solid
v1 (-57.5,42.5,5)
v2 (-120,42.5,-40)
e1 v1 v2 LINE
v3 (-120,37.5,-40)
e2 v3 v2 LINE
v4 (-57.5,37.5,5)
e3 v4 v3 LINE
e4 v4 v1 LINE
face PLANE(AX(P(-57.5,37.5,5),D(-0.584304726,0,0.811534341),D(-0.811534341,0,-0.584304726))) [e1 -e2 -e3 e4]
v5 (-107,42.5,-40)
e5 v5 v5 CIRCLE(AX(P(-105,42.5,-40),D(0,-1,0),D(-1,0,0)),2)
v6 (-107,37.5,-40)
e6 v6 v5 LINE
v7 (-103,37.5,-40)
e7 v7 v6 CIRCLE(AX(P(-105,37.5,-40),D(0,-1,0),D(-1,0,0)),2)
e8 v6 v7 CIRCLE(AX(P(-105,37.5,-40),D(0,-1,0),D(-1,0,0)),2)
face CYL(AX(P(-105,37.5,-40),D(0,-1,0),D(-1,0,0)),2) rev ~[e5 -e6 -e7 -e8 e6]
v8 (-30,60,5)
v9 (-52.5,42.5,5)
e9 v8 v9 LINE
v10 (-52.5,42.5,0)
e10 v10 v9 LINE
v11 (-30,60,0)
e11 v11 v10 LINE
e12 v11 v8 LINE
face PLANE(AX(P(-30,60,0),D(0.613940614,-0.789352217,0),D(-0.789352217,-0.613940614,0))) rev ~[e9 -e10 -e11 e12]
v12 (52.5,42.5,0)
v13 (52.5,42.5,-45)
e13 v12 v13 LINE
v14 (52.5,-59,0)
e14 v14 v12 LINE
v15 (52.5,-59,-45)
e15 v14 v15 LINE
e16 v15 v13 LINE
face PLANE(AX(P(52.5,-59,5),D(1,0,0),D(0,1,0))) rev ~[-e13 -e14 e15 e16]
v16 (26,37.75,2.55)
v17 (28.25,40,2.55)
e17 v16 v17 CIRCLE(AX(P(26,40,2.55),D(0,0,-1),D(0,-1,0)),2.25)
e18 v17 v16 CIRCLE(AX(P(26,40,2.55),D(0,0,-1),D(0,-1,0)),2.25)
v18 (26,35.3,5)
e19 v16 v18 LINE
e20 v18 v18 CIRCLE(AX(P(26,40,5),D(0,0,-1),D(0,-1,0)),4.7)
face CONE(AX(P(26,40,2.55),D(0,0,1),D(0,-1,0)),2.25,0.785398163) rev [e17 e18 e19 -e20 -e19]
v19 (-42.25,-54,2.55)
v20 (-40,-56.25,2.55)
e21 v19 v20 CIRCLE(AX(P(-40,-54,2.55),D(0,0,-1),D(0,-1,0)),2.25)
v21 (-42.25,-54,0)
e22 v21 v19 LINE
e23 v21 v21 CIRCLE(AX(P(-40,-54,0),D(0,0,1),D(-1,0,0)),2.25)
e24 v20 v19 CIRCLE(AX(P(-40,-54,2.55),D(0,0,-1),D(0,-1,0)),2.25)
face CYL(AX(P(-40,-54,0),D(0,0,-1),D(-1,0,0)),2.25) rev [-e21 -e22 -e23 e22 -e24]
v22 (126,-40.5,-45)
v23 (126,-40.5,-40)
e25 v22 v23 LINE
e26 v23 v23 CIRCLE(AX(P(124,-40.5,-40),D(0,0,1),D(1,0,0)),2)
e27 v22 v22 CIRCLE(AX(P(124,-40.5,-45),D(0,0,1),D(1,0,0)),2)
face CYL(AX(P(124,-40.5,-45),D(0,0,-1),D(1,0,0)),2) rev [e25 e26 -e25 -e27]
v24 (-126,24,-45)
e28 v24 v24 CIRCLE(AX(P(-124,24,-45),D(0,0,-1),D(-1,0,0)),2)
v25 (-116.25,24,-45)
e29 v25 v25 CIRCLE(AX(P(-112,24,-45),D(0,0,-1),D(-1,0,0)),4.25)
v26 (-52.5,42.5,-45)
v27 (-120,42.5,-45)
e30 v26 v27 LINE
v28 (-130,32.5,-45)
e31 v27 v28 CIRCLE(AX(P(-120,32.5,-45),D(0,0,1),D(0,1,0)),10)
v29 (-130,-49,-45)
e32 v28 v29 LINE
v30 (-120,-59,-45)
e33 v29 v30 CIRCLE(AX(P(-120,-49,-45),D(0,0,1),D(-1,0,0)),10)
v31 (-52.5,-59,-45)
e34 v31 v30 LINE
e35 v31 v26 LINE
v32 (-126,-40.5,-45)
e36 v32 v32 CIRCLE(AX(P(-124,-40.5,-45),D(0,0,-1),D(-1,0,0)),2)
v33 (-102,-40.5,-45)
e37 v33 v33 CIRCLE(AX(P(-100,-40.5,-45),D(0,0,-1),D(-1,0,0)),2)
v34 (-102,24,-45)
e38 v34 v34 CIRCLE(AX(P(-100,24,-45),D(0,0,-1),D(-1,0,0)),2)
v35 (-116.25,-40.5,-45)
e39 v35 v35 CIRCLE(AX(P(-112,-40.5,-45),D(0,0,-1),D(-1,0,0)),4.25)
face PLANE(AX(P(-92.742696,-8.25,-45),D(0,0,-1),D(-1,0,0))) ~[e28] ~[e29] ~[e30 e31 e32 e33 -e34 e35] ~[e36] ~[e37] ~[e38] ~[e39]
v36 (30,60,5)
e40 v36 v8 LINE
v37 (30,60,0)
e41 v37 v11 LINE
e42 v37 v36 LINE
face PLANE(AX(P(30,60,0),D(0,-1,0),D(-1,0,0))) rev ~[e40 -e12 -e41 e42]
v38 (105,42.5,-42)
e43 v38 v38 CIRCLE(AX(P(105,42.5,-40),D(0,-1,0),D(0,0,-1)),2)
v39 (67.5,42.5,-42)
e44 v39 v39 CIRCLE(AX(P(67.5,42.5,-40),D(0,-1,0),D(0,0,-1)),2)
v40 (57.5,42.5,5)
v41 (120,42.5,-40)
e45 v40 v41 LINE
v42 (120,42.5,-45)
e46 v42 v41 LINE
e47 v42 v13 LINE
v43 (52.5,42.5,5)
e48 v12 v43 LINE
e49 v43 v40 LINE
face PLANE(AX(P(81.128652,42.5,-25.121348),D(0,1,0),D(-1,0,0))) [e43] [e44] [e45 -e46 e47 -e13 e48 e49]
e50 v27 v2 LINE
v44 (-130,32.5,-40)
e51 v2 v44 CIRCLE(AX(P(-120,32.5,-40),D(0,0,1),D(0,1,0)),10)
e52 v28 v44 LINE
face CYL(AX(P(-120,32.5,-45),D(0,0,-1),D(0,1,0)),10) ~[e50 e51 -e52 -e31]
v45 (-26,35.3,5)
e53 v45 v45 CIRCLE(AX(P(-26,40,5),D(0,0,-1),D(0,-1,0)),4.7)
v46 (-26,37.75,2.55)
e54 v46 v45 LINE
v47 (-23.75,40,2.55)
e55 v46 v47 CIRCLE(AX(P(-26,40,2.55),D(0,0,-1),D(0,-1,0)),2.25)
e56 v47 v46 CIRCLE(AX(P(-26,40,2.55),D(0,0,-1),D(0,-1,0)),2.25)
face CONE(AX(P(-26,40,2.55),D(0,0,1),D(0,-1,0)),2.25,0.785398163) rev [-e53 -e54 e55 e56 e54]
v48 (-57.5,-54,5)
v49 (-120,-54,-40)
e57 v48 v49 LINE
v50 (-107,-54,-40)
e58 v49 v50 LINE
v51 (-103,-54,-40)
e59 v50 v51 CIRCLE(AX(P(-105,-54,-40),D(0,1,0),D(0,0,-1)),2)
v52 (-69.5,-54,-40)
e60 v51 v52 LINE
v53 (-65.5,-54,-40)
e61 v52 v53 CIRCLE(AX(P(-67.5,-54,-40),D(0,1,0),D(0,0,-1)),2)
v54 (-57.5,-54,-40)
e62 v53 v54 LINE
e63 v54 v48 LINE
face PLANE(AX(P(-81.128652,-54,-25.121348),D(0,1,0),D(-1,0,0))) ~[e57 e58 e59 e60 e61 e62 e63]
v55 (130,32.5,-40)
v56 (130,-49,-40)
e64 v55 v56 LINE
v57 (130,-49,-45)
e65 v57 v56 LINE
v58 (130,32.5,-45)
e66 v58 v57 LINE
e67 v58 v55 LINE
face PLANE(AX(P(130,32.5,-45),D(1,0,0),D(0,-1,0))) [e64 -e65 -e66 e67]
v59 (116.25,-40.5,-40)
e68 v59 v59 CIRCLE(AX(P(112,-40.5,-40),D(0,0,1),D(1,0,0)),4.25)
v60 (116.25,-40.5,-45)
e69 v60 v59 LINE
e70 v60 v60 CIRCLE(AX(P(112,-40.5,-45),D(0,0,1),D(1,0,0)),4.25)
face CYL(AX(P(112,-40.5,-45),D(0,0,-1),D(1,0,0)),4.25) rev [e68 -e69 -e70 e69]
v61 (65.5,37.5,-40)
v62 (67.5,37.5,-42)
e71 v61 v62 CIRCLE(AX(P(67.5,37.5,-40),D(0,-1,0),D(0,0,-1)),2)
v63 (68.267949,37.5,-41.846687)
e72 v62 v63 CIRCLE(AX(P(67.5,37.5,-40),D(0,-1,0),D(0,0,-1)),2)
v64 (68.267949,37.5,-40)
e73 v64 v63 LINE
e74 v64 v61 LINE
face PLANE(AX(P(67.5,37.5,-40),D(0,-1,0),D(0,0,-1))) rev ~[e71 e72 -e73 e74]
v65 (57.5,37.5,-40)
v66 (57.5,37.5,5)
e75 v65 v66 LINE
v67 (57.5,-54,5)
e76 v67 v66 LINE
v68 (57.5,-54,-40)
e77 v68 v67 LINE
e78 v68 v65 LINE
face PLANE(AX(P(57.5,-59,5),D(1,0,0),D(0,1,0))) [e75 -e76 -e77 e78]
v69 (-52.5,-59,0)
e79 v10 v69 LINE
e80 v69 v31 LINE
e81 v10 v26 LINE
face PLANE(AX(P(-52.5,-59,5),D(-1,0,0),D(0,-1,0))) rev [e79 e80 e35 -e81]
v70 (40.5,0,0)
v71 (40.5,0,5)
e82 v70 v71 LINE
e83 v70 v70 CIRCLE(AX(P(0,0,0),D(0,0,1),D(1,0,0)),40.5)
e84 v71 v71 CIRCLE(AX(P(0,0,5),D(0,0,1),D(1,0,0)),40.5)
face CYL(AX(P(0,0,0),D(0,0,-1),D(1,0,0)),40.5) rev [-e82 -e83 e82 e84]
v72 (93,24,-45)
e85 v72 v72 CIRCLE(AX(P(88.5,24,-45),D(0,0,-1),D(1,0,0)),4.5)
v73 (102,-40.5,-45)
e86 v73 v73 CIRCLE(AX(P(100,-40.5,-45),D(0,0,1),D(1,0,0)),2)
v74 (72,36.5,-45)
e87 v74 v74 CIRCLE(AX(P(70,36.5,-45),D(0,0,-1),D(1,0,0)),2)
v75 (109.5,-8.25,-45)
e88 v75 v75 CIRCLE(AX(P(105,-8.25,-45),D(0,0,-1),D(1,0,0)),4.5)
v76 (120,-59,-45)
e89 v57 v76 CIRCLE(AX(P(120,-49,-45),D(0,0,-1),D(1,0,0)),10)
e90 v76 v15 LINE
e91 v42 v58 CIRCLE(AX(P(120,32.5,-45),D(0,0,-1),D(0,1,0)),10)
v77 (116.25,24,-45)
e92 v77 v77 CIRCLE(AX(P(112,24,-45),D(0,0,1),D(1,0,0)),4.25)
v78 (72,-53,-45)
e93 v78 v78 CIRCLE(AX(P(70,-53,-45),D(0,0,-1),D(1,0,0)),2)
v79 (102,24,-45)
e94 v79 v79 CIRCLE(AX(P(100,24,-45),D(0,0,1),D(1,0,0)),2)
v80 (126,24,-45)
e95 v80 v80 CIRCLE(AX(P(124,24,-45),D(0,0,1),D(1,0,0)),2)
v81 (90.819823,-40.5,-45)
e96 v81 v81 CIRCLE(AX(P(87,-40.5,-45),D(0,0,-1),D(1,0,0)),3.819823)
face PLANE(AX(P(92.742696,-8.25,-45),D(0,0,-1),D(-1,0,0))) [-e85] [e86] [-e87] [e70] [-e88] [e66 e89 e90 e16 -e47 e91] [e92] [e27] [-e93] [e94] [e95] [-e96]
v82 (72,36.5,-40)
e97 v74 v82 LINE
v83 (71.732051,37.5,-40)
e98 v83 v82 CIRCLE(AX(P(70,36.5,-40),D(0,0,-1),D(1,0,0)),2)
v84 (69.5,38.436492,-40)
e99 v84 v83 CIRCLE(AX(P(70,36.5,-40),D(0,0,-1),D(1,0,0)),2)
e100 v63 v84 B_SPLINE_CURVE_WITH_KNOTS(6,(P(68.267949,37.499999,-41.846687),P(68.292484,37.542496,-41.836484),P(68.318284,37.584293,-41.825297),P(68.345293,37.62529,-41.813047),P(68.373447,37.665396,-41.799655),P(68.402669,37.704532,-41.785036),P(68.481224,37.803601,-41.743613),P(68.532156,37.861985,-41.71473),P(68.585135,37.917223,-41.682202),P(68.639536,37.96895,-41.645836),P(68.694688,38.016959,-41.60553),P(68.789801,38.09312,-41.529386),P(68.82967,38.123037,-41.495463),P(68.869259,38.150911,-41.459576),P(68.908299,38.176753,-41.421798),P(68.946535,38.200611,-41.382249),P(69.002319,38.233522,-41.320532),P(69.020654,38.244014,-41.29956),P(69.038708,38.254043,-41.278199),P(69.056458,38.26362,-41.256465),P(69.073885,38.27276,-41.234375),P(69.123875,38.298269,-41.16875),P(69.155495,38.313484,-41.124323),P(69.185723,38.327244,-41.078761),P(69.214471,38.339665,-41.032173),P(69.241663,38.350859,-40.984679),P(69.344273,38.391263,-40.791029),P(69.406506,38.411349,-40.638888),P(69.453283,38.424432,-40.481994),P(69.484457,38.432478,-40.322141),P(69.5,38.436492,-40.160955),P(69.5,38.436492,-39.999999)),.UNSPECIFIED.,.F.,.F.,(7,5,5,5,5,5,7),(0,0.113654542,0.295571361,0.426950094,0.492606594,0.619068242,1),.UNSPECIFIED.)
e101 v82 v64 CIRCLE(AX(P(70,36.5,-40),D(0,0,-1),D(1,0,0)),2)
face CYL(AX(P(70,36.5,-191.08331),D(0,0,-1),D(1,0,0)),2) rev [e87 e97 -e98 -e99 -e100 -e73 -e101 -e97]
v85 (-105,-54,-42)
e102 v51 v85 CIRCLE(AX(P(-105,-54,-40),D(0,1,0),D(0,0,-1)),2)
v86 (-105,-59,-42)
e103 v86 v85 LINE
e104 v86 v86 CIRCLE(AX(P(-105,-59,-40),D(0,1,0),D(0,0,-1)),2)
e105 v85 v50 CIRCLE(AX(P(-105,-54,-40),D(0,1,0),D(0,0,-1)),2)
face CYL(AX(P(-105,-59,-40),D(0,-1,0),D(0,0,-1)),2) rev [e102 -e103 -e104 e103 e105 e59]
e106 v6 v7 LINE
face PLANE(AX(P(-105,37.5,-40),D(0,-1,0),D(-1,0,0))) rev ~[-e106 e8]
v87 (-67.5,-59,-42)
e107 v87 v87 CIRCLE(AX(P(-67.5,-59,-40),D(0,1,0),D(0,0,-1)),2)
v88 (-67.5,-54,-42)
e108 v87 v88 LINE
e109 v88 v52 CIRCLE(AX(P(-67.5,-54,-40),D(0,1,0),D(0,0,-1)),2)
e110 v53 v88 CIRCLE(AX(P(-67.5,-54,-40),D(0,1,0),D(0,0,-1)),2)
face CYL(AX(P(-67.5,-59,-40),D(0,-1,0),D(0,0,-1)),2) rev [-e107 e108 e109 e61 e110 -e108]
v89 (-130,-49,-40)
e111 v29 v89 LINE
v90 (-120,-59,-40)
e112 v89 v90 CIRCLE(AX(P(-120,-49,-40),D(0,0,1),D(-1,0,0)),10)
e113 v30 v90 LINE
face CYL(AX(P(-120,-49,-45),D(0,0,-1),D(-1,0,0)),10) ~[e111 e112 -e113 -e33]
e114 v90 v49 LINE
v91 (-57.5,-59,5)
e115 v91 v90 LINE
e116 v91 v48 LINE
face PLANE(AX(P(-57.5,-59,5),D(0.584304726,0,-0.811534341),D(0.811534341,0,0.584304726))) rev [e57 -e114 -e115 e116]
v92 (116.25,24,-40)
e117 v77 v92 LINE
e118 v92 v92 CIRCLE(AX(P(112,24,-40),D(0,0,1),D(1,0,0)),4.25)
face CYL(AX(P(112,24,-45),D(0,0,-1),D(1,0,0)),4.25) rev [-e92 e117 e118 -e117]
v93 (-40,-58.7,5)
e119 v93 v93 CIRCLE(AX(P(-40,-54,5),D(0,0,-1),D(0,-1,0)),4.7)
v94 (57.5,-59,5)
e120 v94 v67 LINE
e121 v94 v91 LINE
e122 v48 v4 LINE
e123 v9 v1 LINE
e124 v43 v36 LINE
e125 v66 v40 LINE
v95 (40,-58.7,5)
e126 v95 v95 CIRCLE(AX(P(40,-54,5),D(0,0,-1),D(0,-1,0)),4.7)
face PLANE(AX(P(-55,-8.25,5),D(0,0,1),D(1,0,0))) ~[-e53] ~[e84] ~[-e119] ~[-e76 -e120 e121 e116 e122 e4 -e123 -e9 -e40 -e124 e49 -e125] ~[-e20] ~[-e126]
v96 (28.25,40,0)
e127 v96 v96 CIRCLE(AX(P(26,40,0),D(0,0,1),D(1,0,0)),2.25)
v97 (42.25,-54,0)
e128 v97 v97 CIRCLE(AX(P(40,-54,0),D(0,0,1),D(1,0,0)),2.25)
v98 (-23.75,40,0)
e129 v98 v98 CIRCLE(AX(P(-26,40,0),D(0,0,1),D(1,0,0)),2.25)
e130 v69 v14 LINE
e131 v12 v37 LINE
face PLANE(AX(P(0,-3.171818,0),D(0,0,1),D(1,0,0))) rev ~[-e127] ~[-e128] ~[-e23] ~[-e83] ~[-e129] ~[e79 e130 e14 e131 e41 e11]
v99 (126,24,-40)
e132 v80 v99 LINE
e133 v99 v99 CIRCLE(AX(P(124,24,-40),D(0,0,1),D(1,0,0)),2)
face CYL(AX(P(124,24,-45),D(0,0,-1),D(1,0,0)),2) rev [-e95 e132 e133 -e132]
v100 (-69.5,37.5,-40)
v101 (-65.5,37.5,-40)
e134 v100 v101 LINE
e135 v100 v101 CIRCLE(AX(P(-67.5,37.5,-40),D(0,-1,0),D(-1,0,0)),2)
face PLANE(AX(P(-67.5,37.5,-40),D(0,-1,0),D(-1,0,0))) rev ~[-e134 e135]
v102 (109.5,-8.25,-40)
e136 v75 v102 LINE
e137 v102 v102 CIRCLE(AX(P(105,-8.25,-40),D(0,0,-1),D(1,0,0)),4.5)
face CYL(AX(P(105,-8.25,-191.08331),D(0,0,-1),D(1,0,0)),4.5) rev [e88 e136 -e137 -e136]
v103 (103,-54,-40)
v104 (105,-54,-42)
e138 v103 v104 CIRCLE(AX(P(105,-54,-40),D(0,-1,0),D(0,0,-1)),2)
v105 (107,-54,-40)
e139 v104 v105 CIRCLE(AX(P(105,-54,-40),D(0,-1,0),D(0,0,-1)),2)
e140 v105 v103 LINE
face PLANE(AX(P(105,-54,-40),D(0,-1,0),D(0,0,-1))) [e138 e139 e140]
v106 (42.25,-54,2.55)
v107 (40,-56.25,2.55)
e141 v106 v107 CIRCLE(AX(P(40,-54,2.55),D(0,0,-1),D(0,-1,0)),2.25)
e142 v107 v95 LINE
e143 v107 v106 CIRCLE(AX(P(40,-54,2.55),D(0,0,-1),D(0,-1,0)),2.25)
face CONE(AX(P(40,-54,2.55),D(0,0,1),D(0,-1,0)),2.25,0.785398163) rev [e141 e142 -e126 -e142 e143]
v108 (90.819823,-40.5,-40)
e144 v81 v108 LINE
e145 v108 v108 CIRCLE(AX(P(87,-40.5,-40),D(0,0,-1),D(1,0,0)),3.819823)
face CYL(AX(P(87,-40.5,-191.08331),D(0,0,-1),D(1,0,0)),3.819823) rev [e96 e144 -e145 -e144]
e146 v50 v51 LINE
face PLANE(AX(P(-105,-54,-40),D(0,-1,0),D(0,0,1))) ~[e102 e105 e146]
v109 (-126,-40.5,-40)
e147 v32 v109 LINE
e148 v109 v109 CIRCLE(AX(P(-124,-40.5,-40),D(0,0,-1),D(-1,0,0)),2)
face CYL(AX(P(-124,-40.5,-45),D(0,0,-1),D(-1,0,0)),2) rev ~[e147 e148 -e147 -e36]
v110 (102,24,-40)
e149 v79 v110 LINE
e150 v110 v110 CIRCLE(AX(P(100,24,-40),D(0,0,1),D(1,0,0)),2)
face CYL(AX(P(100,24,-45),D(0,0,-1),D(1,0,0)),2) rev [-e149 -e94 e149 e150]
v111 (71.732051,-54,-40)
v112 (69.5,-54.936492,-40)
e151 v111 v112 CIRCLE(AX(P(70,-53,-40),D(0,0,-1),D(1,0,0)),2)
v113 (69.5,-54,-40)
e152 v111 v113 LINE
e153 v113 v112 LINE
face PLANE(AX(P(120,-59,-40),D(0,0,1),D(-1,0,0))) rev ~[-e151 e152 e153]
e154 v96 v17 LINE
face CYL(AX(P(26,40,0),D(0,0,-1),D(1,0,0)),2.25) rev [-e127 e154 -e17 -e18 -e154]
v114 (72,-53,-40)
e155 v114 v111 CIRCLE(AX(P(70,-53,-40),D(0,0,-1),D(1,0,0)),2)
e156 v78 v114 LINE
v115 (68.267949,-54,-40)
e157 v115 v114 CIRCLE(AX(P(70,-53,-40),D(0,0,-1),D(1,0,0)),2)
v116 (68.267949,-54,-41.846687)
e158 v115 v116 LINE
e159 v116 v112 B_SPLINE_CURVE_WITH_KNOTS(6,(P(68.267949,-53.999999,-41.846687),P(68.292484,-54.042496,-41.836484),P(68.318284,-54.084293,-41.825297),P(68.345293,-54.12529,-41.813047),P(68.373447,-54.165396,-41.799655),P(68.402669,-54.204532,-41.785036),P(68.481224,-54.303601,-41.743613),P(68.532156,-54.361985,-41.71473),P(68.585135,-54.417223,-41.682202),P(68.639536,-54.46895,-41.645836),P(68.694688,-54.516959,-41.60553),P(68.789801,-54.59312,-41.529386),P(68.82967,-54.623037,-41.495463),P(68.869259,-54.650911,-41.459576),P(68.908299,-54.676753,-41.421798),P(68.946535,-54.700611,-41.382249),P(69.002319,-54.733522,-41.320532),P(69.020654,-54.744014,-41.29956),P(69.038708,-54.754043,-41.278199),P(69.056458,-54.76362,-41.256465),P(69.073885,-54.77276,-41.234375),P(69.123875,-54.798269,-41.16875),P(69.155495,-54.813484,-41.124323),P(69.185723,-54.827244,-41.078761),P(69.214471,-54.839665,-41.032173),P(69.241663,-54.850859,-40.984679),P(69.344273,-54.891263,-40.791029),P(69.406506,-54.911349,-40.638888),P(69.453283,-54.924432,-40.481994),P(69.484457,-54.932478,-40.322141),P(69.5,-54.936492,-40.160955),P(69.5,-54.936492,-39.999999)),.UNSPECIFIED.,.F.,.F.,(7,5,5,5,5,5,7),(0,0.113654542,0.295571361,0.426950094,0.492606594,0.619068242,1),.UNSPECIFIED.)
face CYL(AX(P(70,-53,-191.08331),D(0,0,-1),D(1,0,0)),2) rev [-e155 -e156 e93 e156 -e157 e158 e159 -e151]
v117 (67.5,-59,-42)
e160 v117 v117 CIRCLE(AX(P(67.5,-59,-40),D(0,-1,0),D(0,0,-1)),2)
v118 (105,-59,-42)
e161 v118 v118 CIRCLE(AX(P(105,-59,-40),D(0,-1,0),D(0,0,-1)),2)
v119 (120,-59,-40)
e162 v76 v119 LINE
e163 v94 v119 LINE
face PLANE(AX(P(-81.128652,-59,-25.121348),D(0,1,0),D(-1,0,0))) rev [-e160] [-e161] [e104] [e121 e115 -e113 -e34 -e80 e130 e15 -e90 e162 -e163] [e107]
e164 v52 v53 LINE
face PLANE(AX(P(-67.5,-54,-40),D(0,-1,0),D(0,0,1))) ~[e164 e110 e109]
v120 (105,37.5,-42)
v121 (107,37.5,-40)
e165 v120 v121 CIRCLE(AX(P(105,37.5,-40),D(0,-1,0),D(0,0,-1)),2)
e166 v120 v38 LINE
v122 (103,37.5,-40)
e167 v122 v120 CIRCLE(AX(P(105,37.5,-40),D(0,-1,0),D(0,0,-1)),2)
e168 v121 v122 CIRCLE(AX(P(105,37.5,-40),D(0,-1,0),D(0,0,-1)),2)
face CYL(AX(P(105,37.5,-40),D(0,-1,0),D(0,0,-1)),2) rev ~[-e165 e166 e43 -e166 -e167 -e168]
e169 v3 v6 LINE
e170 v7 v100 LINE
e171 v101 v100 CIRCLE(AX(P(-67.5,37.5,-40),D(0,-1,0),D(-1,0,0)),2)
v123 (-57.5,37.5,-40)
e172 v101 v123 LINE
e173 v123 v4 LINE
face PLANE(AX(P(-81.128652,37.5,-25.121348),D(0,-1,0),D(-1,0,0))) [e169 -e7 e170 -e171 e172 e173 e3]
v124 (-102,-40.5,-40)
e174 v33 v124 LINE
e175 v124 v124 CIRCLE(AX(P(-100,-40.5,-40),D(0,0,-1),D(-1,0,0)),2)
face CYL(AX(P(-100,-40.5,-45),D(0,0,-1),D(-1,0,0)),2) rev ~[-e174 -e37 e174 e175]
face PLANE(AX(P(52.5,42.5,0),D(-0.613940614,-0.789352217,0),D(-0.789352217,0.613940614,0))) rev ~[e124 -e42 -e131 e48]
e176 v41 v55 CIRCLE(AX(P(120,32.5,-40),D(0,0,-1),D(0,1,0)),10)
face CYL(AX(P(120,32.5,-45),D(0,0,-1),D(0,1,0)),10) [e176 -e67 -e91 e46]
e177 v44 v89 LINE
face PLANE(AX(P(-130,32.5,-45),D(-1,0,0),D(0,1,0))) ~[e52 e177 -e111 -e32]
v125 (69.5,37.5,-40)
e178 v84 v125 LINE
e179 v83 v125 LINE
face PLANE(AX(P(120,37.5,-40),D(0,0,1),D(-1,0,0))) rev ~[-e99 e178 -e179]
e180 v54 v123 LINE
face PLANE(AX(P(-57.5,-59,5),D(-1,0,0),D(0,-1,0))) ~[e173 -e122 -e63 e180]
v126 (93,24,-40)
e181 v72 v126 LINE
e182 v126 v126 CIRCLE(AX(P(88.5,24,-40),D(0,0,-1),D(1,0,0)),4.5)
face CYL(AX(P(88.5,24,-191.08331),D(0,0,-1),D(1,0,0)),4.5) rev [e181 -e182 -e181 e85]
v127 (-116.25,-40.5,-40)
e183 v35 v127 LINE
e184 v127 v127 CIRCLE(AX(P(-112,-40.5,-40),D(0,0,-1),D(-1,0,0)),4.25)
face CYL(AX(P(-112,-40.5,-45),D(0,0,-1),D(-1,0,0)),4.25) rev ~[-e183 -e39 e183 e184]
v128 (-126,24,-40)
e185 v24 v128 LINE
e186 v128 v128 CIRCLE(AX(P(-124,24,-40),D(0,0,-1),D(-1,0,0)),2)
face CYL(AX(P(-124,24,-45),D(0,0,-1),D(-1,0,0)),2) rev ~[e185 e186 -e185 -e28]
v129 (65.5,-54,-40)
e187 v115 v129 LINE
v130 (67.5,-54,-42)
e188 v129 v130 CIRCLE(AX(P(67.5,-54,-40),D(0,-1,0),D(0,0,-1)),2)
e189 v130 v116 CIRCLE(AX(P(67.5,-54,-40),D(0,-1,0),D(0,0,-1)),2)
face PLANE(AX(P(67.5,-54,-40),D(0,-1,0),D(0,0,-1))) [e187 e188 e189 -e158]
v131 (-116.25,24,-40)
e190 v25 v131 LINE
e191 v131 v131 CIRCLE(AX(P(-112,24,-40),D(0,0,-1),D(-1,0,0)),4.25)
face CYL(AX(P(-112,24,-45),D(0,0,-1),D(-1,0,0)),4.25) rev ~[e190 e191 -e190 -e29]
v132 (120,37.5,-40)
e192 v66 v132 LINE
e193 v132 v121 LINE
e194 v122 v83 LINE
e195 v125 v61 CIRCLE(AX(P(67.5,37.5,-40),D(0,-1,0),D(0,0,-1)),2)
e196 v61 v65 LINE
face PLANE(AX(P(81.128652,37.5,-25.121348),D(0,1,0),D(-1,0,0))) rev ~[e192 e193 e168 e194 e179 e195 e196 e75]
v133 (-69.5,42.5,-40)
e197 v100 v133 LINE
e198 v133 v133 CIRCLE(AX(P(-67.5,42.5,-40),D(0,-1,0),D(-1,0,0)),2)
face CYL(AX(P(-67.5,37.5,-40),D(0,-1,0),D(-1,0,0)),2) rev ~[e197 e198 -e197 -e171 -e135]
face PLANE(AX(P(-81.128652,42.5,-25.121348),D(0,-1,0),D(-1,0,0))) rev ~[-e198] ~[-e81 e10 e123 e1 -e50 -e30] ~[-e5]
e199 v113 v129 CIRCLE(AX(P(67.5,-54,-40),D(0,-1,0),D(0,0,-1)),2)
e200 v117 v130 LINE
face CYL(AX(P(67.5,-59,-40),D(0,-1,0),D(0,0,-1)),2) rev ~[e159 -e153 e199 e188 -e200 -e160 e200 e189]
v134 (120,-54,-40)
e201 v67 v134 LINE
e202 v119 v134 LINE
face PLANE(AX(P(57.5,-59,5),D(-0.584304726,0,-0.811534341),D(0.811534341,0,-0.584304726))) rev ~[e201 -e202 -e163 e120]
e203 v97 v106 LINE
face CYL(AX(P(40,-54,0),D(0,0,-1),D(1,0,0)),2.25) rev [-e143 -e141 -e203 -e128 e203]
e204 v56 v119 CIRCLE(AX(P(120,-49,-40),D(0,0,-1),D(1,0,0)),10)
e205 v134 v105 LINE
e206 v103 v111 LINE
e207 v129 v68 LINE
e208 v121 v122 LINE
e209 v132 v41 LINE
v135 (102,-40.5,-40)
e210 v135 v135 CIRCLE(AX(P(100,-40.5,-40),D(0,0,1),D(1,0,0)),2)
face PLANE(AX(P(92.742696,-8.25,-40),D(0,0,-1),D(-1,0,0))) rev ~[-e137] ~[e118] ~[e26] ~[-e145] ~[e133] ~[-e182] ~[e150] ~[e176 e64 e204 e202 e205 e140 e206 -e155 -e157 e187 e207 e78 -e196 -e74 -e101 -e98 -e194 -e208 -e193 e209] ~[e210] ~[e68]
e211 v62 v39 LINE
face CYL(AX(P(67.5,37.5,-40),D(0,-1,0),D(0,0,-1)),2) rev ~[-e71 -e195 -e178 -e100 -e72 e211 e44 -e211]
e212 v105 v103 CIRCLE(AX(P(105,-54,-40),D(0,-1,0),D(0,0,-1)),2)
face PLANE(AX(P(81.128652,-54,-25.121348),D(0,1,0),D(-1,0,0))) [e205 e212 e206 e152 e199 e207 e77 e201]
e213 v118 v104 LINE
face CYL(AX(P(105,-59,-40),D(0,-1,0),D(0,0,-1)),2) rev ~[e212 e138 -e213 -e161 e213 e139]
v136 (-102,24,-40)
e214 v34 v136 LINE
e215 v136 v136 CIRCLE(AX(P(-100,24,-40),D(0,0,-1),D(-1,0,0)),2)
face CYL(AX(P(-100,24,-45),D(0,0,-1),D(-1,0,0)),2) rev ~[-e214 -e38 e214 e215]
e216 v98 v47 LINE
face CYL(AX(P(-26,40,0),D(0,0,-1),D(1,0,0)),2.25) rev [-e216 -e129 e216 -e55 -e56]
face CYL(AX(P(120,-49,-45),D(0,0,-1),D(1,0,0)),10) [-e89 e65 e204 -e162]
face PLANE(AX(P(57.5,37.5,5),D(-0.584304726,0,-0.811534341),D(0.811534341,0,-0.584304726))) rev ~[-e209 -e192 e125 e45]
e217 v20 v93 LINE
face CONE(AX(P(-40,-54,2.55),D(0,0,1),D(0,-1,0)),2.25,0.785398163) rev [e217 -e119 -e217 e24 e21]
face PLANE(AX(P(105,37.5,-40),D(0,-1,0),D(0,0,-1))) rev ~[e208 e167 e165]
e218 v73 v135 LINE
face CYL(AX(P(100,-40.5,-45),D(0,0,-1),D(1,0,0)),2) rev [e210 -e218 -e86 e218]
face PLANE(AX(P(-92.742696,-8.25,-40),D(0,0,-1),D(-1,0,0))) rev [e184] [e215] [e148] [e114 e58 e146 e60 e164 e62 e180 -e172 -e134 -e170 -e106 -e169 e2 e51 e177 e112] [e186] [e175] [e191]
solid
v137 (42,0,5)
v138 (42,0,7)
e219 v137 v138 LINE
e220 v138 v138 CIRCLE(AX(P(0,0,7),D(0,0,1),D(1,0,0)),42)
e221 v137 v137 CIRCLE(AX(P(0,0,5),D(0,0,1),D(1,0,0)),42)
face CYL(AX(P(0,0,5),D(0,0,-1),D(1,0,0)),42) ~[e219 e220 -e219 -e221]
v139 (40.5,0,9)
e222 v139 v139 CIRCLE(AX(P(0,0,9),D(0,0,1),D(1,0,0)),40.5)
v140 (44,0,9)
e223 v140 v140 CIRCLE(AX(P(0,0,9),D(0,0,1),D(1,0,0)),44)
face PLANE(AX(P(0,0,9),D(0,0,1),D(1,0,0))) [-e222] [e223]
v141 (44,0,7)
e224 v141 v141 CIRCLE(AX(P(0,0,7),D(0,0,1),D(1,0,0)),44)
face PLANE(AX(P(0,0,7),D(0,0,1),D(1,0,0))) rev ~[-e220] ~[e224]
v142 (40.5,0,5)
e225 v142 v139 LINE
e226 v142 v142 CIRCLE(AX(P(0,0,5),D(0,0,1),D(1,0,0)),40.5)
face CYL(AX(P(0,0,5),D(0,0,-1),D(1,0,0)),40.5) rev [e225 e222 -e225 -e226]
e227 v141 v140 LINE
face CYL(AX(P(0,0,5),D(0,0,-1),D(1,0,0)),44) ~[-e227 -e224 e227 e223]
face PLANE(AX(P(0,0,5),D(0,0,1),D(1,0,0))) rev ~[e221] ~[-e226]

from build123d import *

# Parameters (mm, degrees)
SKIZZE1_R                                      = 2.25
SKIZZE1_R_2                                    = 40.5
AUFSATZ_LINEAR_AUSTRAGEN1_DEPTH                = 5
SKETCH5_W                                      = 5
SKETCH5_H                                      = 101.5
BOSS_EXTRUDE1_DEPTH                            = 50
SKIZZE15_R                                     = 4.25
SKIZZE15_R_2                                   = 2
AUFSATZ_LINEAR_AUSTRAGEN2_DEPTH                = 5
CUT_EXTRUDE1_DEPTH                             = 151.083310198
CUT_EXTRUDE1_DEPTH_BACK                        = 151.083310198
SKETCH1_R                                      = 4.5
SKETCH1_R_2                                    = 3.819823324
SKETCH1_R_3                                    = 2
BOSS_EXTRUDE2_DEPTH                            = 5
SKETCH11_R                                     = 2
CUT_EXTRUDE2_DEPTH                             = 5
LPATTERN1_COPY_1_DEPTH                         = 5
LPATTERN1_COPY_2_SKETCH_R                      = 2
LPATTERN1_COPY_2_DEPTH                         = 5
LPATTERN1_COPY_3_DEPTH                         = 5
LPATTERN1_COPY_4_SKETCH_R                      = 2
LPATTERN1_COPY_4_DEPTH                         = 5
SKETCH9_R                                      = 44
SKETCH9_R_2                                    = 40.5
BOSS_EXTRUDE3_DEPTH                            = 4
SKETCH13_R                                     = 44
SKETCH13_R_2                                   = 42
CUT_EXTRUDE3_DEPTH                             = 2
CSK_FOR_M4_FLAT_HEAD_MACHINE_SCREW1_AT_2_COUNT = 2
CSK_FOR_M4_FLAT_HEAD_MACHINE_SCREW1_AT_2_PITCH = 52
CSK_FOR_M4_FLAT_HEAD_MACHINE_SCREW1_AT_3_COUNT = 2
CSK_FOR_M4_FLAT_HEAD_MACHINE_SCREW1_AT_3_PITCH = 114.856432123
CSK_FOR_M4_FLAT_HEAD_MACHINE_SCREW1_AT_4_COUNT = 2
CSK_FOR_M4_FLAT_HEAD_MACHINE_SCREW1_AT_4_PITCH = 95.036834964


with BuildPart() as part:
    # Skizze1 → Aufsatz-Linear austragen1 (new body)
    with BuildSketch(Plane.XY):
        Polygon((-52.5, -59), (52.5, -59), (52.5, 42.5), (30, 60), (-30, 60), (-52.5, 42.5), align=None)
        with Locations((26, 40)):
            Circle(SKIZZE1_R, mode=Mode.SUBTRACT)
        with Locations((-26, 40)):
            Circle(SKIZZE1_R, mode=Mode.SUBTRACT)
        Circle(SKIZZE1_R_2, mode=Mode.SUBTRACT)
        with Locations((40, -54)):
            Circle(SKIZZE1_R, mode=Mode.SUBTRACT)
        with Locations((-40, -54)):
            Circle(SKIZZE1_R, mode=Mode.SUBTRACT)
    extrude(amount=AUFSATZ_LINEAR_AUSTRAGEN1_DEPTH)

    # Sketch5 → Boss-Extrude1 (add)
    with BuildSketch(Plane.XY.offset(5)):
        with Locations((55, -8.25)):
            Rectangle(SKETCH5_W, SKETCH5_H)
    boss_extrude1 = extrude(amount=-BOSS_EXTRUDE1_DEPTH)

    # Skizze15 → Aufsatz-Linear austragen2 (add)
    with BuildSketch(Plane.XY.offset(-45)):
        with BuildLine():
            Line((57.5, 42.5), (120, 42.5))
            ThreePointArc((120, 42.5), (127.071067812, 39.571067812), (130, 32.5))
            Line((130, 32.5), (130, -49))
            ThreePointArc((130, -49), (127.071067812, -56.071067812), (120, -59))
            Line((120, -59), (57.5, -59))
            Line((57.5, -59), (57.5, 42.5))
        make_face()
        with Locations((112, 24)):
            Circle(SKIZZE15_R, mode=Mode.SUBTRACT)
        with Locations((100, 24)):
            Circle(SKIZZE15_R_2, mode=Mode.SUBTRACT)
        with Locations((124, 24)):
            Circle(SKIZZE15_R_2, mode=Mode.SUBTRACT)
        with Locations((112, -40.5)):
            Circle(SKIZZE15_R, mode=Mode.SUBTRACT)
        with Locations((100, -40.5)):
            Circle(SKIZZE15_R_2, mode=Mode.SUBTRACT)
        with Locations((124, -40.5)):
            Circle(SKIZZE15_R_2, mode=Mode.SUBTRACT)
    aufsatz_linear_austragen2 = extrude(amount=AUFSATZ_LINEAR_AUSTRAGEN2_DEPTH)

    # Spiegeln1: Boss-Extrude1, Aufsatz-Linear austragen2 across plane
    add(boss_extrude1.mirror(Plane(origin=(0, 0, 0), x_dir=(0, 0, 1), z_dir=(1, 0, 0))))
    add(aufsatz_linear_austragen2.mirror(Plane(origin=(0, 0, 0), x_dir=(0, 0, 1), z_dir=(1, 0, 0))))

    # Sketch1 → Cut-Extrude1 (cut, two sides: drawn at the far end of the back side and taken through both)
    with BuildSketch(Plane.XY.offset(-40).offset(-CUT_EXTRUDE1_DEPTH_BACK)):
        with Locations((105, -8.25)):
            Circle(SKETCH1_R)
        with Locations((87, -40.5)):
            Circle(SKETCH1_R_2)
        with Locations((88.5, 24)):
            Circle(SKETCH1_R)
        with Locations((70, -53)):
            Circle(SKETCH1_R_3)
        with Locations((70, 36.5)):
            Circle(SKETCH1_R_3)
    extrude(amount=CUT_EXTRUDE1_DEPTH + CUT_EXTRUDE1_DEPTH_BACK, mode=Mode.SUBTRACT)

    # Sketch6 → Boss-Extrude2 (add)
    with BuildSketch(Plane.XZ.offset(59)):
        Polygon((57.5, 5), (120, -40), (57.5, -40), align=None)
    boss_extrude2 = extrude(amount=-BOSS_EXTRUDE2_DEPTH)

    # Sketch11 → Cut-Extrude2 (cut)
    with BuildSketch(Plane.XZ.offset(59)):
        with Locations((105, -40)):
            Circle(SKETCH11_R)
        with Locations((67.5, -40)):
            Circle(SKETCH11_R)
    cut_extrude2 = extrude(amount=-CUT_EXTRUDE2_DEPTH, mode=Mode.SUBTRACT)

    # Mirror1: Boss-Extrude2, Cut-Extrude2 across plane
    add(boss_extrude2.mirror(Plane(origin=(0, 0, 0), x_dir=(0, 0, 1), z_dir=(1, 0, 0))))
    add(cut_extrude2.mirror(Plane(origin=(0, 0, 0), x_dir=(0, 0, 1), z_dir=(1, 0, 0))), mode=Mode.SUBTRACT)

    # LPattern1 copy 1 sketch → LPattern1 copy 1 (add)
    with BuildSketch(Plane(origin=(0, 37.5, 0), x_dir=(-1, 0, 0), z_dir=(0, -1, 0))):
        Polygon((57.5, -5), (120, 40), (57.5, 40), align=None)
    extrude(amount=-LPATTERN1_COPY_1_DEPTH)

    # LPattern1 copy 2 sketch → LPattern1 copy 2 (cut)
    with BuildSketch(Plane(origin=(0, 37.5, 0), x_dir=(-1, 0, 0), z_dir=(0, -1, 0))):
        with Locations((105, 40)):
            Circle(LPATTERN1_COPY_2_SKETCH_R)
        with Locations((67.5, 40)):
            Circle(LPATTERN1_COPY_2_SKETCH_R)
    extrude(amount=-LPATTERN1_COPY_2_DEPTH, mode=Mode.SUBTRACT)

    # LPattern1 copy 3 sketch → LPattern1 copy 3 (add)
    with BuildSketch(Plane.XZ.offset(-37.5)):
        Polygon((57.5, 5), (120, -40), (57.5, -40), align=None)
    extrude(amount=-LPATTERN1_COPY_3_DEPTH)

    # LPattern1 copy 4 sketch → LPattern1 copy 4 (cut)
    with BuildSketch(Plane.XZ.offset(-37.5)):
        with Locations((105, -40)):
            Circle(LPATTERN1_COPY_4_SKETCH_R)
        with Locations((67.5, -40)):
            Circle(LPATTERN1_COPY_4_SKETCH_R)
    extrude(amount=-LPATTERN1_COPY_4_DEPTH, mode=Mode.SUBTRACT)

    # Sketch15 → CSK for M4 Flat Head Machine Screw1 (revolve, cut)
    with BuildSketch(Plane(origin=(-26, 40, 5), x_dir=(0, -1, 0), z_dir=(1, 0, 0))):
        Polygon((0, 0), (0, 50), (2.25, 50), (2.25, 2.45), (4.7, 0), align=None)
    csk_for_m4_flat_head_machine_screw1 = revolve(axis=Axis((-26, 40, 11.35), (0, 0, -1)), mode=Mode.SUBTRACT)

    # CSK for M4 Flat Head Machine Screw1 at 2: CSK for M4 Flat Head Machine Screw1 ×2
    with Locations(*[(i * CSK_FOR_M4_FLAT_HEAD_MACHINE_SCREW1_AT_2_PITCH, 0, 0) for i in range(1, CSK_FOR_M4_FLAT_HEAD_MACHINE_SCREW1_AT_2_COUNT)]):
        add(csk_for_m4_flat_head_machine_screw1, mode=Mode.SUBTRACT)

    # CSK for M4 Flat Head Machine Screw1 at 3: CSK for M4 Flat Head Machine Screw1 ×2
    with Locations(*[Vector(0.5746304214759498, -0.8184130245263528, 0) * (i * CSK_FOR_M4_FLAT_HEAD_MACHINE_SCREW1_AT_3_PITCH) for i in range(1, CSK_FOR_M4_FLAT_HEAD_MACHINE_SCREW1_AT_3_COUNT)]):
        add(csk_for_m4_flat_head_machine_screw1, mode=Mode.SUBTRACT)

    # CSK for M4 Flat Head Machine Screw1 at 4: CSK for M4 Flat Head Machine Screw1 ×2
    with Locations(*[Vector(-0.1473113030887813, -0.9890901778818174, 0) * (i * CSK_FOR_M4_FLAT_HEAD_MACHINE_SCREW1_AT_4_PITCH) for i in range(1, CSK_FOR_M4_FLAT_HEAD_MACHINE_SCREW1_AT_4_COUNT)]):
        add(csk_for_m4_flat_head_machine_screw1, mode=Mode.SUBTRACT)


with BuildPart() as body_2:
    # Sketch9 → Boss-Extrude3 (new body)
    with BuildSketch(Plane.XY.offset(5)):
        Circle(SKETCH9_R)
        Circle(SKETCH9_R_2, mode=Mode.SUBTRACT)
    extrude(amount=BOSS_EXTRUDE3_DEPTH)

    # Sketch13 → Cut-Extrude3 (cut)
    with BuildSketch(Plane.XY.offset(5)):
        Circle(SKETCH13_R)
        Circle(SKETCH13_R_2, mode=Mode.SUBTRACT)
    extrude(amount=CUT_EXTRUDE3_DEPTH, mode=Mode.SUBTRACT)


solid = Compound([part.part, body_2.part])
